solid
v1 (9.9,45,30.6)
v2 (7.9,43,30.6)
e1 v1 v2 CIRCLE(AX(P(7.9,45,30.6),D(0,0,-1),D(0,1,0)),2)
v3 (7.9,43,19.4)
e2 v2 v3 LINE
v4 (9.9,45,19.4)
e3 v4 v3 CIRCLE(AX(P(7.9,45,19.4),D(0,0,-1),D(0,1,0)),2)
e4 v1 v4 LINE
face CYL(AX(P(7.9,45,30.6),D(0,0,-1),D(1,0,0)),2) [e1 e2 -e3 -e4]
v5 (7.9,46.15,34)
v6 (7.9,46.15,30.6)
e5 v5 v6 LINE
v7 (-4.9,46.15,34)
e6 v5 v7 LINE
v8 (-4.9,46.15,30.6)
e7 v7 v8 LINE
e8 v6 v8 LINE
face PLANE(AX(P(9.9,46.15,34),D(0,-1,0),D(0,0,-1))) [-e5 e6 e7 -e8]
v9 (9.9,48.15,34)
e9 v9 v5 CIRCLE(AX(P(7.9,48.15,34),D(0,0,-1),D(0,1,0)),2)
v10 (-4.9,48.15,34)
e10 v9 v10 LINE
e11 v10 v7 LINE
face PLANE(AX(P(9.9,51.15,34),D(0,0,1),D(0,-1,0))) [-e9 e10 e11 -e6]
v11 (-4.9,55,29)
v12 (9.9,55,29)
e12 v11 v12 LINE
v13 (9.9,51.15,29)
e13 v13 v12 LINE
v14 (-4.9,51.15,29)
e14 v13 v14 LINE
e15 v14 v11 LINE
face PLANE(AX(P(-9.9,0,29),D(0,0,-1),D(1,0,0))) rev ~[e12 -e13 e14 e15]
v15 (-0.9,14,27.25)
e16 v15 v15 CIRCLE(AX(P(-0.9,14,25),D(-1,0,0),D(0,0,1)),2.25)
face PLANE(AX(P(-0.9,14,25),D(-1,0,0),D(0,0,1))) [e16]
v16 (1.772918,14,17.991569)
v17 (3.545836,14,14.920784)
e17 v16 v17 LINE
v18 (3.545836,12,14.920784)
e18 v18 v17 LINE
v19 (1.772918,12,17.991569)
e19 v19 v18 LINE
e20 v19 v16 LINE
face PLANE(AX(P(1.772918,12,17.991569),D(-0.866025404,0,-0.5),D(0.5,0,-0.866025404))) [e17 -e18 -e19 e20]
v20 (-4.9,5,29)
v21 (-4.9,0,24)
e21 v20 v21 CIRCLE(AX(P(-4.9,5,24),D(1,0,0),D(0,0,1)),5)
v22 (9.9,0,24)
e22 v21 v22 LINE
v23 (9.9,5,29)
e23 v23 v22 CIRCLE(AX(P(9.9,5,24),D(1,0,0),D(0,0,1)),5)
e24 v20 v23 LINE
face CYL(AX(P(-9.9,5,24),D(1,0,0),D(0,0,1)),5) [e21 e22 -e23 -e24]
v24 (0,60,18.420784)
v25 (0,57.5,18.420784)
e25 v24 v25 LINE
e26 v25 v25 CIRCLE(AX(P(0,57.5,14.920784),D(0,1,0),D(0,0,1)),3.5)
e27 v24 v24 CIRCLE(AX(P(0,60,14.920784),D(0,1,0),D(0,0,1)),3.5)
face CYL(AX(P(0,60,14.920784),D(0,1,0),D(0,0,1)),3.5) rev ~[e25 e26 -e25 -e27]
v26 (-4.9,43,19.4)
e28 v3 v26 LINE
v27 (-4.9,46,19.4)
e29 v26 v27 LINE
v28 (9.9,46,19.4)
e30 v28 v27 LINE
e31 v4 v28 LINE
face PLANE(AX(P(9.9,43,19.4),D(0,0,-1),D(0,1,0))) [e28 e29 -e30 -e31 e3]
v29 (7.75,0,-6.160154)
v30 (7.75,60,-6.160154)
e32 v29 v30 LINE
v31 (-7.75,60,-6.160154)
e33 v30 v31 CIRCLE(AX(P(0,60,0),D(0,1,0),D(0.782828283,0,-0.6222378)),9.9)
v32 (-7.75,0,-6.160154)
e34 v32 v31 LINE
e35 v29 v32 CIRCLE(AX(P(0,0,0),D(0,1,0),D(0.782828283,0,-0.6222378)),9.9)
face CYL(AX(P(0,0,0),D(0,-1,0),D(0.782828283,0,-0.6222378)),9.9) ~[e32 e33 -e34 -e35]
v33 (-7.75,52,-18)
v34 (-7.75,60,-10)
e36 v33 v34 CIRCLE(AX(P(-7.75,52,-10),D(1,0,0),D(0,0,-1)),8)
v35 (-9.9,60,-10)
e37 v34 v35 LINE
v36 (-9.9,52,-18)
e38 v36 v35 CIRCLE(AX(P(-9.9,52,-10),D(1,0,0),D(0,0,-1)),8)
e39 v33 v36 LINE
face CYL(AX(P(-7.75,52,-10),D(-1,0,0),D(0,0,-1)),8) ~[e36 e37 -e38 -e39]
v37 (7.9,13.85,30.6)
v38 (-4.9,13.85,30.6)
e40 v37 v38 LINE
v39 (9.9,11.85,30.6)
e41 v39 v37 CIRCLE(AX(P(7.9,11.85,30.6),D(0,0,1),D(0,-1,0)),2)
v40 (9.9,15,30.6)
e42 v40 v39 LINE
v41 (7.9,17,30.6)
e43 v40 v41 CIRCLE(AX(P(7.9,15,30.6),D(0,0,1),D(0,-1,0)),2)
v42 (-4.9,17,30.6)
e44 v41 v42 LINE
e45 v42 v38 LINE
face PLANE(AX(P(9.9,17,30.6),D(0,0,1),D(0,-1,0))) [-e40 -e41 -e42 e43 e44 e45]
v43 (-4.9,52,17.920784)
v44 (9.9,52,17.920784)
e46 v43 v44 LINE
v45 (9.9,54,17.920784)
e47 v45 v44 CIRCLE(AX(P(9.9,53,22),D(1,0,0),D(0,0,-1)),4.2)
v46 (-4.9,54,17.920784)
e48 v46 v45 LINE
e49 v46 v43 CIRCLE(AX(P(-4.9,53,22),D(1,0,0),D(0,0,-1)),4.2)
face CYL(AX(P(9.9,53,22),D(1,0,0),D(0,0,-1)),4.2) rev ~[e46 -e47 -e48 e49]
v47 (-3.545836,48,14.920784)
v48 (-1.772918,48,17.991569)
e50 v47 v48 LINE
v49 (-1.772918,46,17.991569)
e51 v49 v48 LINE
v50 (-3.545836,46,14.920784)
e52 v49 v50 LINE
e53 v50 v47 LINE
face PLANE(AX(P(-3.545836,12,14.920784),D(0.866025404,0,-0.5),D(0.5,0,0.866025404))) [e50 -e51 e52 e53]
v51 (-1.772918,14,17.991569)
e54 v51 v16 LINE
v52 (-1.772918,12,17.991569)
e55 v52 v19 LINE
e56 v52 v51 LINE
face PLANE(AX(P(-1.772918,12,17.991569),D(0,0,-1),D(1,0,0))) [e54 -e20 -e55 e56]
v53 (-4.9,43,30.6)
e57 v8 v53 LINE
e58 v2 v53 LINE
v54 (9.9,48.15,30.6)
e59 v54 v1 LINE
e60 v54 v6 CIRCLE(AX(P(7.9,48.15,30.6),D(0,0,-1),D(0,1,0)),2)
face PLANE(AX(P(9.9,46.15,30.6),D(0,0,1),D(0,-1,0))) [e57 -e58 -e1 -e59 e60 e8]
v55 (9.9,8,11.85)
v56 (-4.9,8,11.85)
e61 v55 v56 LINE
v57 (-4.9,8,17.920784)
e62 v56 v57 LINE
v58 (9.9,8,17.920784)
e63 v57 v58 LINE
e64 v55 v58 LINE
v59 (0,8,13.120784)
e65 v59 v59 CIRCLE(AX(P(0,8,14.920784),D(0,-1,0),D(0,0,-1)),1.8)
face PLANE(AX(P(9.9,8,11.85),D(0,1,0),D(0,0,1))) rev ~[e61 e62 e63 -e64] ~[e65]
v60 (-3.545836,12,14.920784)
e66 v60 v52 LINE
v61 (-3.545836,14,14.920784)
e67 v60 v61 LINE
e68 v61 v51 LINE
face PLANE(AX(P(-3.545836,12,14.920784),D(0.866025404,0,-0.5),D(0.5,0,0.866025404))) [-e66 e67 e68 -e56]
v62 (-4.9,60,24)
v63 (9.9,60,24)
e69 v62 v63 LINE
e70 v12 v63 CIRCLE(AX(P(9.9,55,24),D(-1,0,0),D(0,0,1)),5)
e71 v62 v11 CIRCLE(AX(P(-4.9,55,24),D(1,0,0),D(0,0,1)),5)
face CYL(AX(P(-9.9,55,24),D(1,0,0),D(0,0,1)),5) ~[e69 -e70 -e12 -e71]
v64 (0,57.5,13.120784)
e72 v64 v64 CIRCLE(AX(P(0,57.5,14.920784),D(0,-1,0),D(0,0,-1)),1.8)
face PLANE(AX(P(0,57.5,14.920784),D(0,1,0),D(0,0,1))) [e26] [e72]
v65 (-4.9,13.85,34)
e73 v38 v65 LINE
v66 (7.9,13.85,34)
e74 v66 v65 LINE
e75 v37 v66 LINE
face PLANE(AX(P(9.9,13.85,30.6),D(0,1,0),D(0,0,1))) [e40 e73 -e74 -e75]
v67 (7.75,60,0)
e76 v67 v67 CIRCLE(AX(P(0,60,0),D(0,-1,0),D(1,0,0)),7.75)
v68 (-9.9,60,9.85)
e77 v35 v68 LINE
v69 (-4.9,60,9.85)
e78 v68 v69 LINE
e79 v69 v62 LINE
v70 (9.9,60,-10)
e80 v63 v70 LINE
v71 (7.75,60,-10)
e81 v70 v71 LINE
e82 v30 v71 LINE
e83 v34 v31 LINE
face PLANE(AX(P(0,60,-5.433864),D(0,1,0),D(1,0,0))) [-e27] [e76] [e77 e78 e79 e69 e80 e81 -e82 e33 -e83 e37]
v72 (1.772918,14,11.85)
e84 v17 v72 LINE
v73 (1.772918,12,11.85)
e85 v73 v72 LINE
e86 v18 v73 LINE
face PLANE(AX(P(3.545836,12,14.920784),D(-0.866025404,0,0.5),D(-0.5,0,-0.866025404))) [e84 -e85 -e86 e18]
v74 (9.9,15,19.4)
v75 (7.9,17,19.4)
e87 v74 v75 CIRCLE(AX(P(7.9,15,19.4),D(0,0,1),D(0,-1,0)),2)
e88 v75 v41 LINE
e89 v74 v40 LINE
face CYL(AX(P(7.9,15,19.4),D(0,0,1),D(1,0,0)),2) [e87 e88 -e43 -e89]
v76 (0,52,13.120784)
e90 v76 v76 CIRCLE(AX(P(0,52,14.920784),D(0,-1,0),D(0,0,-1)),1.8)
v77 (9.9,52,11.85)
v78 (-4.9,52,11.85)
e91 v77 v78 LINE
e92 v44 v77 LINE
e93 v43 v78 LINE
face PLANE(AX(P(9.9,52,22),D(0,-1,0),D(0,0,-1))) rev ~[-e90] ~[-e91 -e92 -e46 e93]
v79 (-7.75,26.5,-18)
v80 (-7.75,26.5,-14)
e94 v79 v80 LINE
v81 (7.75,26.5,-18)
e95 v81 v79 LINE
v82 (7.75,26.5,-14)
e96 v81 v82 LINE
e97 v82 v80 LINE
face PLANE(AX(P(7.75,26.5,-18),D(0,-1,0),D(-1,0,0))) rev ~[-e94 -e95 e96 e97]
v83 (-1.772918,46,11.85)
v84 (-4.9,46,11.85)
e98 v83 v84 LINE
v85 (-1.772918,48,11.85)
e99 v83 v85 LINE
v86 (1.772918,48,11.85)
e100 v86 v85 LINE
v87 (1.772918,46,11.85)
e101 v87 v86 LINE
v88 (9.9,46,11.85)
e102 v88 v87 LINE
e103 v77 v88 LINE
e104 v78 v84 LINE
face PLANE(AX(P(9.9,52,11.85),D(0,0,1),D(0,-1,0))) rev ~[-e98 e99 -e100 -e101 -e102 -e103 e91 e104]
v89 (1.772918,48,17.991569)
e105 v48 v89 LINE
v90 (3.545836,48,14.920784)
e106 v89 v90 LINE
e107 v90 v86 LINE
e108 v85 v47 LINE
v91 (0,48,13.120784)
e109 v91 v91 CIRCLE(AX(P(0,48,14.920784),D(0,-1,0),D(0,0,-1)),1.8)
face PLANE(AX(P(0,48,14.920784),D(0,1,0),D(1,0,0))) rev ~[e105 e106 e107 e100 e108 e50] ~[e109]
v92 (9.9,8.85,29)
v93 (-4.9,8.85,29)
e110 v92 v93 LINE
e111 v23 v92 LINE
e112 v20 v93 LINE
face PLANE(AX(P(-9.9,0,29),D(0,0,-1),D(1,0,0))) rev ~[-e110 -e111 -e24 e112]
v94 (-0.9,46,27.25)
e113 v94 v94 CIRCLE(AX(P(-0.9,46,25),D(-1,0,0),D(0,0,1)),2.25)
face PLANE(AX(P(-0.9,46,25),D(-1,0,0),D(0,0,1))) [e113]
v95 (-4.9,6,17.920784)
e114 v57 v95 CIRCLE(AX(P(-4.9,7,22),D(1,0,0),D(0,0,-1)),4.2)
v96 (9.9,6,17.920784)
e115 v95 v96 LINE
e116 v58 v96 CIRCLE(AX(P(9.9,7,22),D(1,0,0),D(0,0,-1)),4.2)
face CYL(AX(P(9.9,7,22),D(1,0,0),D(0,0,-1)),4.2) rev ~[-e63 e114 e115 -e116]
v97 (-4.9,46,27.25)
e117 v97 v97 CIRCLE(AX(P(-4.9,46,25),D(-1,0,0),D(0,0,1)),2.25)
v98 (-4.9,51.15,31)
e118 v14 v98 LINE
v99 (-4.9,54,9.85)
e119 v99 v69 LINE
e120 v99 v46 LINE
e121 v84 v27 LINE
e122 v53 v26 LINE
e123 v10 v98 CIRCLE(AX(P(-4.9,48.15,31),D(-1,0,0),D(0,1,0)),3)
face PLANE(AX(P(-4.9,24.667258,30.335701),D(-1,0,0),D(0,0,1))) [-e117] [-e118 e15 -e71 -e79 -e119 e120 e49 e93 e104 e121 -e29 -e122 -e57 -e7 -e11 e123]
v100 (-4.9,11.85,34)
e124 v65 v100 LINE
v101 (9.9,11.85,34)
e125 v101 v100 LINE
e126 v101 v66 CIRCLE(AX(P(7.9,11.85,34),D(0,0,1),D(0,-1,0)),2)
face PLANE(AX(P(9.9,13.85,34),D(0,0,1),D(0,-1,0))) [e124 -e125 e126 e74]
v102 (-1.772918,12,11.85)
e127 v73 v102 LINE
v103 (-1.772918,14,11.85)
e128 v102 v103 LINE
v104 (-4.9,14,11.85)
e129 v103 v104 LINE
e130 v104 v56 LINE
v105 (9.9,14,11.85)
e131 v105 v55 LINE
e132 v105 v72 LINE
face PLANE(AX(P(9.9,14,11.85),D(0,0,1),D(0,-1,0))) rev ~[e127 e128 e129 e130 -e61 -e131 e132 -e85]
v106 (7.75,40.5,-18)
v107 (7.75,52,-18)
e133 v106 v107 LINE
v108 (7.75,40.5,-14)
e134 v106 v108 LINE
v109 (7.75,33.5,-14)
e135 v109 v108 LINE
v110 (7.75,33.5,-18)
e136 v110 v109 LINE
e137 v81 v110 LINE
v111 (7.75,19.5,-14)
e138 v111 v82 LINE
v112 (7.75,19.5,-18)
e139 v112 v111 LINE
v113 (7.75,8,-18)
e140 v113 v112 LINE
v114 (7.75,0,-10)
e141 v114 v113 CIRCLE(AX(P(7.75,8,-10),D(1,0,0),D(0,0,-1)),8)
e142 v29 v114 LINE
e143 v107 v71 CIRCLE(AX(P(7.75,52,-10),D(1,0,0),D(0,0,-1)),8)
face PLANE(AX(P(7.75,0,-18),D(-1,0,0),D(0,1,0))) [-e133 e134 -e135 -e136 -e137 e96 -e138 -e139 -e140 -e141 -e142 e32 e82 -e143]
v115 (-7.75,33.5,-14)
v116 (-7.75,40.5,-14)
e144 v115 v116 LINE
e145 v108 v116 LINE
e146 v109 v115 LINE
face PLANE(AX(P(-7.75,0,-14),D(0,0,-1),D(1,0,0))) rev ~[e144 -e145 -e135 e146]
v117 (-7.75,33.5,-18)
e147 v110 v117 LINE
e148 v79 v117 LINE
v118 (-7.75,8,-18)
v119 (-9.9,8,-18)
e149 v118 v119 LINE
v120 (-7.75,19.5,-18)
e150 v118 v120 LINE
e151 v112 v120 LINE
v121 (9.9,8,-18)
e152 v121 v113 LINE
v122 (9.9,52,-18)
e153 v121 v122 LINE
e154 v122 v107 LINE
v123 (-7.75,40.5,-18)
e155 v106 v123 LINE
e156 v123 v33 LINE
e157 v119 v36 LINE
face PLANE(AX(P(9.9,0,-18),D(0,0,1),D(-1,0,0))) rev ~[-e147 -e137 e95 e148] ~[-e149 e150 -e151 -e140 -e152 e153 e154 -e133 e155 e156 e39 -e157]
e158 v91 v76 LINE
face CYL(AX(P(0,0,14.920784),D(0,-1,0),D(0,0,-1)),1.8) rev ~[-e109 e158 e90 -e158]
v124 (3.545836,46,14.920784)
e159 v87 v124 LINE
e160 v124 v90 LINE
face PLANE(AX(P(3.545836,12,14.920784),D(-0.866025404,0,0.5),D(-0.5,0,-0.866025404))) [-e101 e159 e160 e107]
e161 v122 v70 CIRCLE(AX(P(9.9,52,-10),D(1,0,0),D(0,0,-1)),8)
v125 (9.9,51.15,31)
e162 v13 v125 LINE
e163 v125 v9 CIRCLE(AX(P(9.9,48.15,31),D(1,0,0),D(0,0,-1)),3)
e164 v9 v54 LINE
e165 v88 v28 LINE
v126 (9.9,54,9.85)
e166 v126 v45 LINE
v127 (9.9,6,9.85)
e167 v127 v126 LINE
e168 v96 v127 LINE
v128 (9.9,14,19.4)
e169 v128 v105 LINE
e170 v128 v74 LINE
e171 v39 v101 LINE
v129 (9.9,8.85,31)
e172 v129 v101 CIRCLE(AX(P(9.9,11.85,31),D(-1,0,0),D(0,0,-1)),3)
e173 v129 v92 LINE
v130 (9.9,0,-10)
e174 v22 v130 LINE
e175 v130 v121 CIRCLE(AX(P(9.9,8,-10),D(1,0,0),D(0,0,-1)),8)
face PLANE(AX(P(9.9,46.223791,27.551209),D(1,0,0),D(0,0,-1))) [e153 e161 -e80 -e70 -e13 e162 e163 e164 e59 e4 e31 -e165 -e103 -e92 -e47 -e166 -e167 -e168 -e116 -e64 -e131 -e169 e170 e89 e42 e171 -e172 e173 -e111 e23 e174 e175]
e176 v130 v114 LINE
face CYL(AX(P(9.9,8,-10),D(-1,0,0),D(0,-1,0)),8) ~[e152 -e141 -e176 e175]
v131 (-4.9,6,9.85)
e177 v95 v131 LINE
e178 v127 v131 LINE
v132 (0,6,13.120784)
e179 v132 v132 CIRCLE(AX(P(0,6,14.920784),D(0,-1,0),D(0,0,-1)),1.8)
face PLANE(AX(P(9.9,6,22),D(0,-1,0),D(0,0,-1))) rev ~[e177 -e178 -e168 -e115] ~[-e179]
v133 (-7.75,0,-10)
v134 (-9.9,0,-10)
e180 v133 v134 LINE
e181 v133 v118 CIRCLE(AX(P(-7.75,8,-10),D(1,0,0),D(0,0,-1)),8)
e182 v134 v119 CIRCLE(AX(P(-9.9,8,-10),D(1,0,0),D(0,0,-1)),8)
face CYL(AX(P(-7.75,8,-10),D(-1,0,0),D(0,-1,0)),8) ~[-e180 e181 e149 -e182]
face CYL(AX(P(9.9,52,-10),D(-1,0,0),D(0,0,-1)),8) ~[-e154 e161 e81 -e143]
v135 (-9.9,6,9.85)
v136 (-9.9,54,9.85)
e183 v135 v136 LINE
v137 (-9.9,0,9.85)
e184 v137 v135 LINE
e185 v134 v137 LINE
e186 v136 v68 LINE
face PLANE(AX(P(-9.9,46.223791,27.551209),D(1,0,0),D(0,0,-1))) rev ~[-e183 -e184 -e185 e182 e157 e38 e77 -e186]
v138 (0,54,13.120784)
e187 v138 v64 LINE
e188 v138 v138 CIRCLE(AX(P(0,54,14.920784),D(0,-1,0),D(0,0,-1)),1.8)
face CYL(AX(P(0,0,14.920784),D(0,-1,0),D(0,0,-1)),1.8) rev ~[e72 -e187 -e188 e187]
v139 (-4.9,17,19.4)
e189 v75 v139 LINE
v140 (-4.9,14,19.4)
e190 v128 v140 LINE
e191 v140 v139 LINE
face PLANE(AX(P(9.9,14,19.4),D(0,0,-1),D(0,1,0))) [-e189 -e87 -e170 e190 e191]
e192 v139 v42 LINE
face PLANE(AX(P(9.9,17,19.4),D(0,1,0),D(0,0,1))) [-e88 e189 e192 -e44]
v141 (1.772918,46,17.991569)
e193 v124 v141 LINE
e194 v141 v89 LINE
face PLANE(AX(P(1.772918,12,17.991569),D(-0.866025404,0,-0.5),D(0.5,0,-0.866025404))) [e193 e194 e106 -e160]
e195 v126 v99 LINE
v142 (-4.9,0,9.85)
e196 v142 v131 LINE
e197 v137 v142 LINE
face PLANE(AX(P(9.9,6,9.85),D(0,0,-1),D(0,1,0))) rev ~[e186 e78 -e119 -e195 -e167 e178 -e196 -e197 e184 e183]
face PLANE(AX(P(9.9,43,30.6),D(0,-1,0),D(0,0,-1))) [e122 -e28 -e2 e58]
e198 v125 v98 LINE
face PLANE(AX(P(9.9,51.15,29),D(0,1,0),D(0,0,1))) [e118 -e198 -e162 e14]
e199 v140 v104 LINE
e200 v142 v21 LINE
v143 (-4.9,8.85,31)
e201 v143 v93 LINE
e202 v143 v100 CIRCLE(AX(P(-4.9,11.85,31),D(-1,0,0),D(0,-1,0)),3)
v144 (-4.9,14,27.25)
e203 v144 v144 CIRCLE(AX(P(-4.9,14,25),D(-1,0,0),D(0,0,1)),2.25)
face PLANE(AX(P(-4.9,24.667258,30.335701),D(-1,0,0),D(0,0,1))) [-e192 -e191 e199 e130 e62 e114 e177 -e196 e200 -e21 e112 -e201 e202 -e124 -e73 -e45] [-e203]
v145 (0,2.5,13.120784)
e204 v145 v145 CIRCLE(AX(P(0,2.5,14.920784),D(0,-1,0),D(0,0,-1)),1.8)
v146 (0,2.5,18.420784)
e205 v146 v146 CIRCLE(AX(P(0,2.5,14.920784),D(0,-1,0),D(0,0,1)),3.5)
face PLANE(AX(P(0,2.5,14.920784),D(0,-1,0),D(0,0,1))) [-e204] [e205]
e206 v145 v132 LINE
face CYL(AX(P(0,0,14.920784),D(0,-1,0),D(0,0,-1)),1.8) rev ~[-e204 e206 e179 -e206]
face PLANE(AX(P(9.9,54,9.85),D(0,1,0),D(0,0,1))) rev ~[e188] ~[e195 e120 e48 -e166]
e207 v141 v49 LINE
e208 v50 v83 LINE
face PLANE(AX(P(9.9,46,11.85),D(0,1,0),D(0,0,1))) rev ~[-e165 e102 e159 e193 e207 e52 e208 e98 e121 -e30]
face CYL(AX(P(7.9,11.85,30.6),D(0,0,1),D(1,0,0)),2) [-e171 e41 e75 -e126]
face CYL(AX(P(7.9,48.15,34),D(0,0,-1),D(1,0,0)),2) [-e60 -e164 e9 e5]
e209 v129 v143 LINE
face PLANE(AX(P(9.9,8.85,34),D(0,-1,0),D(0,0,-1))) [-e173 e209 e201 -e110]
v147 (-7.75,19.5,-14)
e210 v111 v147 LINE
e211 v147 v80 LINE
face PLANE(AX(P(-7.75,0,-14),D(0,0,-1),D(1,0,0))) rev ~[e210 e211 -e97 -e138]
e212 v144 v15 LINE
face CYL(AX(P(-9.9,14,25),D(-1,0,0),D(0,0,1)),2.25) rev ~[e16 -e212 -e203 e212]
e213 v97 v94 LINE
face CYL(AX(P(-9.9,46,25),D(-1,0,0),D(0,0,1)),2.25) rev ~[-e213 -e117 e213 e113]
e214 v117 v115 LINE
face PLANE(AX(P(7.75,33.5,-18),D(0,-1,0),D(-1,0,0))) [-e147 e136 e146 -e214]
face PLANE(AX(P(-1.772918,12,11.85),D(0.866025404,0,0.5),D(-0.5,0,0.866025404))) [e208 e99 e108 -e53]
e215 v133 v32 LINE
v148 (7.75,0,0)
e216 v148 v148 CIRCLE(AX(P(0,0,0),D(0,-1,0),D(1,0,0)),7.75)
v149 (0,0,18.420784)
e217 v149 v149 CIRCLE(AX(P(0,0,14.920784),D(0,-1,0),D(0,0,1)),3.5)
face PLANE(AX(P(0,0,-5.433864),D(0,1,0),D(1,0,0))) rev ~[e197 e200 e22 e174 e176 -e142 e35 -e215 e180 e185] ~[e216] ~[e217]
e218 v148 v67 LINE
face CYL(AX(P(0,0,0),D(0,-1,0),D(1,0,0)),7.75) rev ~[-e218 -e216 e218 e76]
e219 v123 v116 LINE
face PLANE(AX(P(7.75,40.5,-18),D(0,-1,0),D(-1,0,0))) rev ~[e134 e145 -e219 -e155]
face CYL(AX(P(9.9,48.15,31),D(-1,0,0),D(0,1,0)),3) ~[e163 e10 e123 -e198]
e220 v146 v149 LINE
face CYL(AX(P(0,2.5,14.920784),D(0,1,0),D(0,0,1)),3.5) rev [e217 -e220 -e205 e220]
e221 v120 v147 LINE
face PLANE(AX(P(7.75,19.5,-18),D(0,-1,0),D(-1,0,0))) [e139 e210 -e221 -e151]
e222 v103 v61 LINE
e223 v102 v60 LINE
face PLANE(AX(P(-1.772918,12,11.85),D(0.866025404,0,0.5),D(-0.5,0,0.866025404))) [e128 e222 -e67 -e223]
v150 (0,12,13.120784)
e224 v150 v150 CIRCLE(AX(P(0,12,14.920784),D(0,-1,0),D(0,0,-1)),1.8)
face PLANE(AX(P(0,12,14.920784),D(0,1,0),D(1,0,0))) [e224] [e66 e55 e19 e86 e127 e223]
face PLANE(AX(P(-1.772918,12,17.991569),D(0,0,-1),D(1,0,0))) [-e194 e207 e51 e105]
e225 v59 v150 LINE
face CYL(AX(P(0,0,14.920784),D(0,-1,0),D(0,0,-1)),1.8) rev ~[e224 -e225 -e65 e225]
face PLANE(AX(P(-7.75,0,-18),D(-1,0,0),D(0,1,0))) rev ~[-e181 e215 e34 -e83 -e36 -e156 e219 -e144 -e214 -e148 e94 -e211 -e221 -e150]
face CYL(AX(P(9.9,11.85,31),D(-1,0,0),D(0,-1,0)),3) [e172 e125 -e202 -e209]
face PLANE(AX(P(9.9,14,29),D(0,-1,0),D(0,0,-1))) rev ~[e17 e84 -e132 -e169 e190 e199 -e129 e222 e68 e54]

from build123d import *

# Parameters (mm, degrees)
SKETCH_1_W                = 15.5
SKETCH_1_H                = 11.302783866
EXTRUDE_1_DEPTH           = 60
SKETCH_2_R                = 4.2
CUT_EXTRUDE_1_DEPTH       = 90
CUT_EXTRUDE_2_DEPTH       = 40
SKETCH_4_W                = 15.5
SKETCH_4_H                = 19.5
SKETCH_4_H_2              = 7
CUT_EXTRUDE_3_DEPTH       = 6
FILLET_1_R                = 5
FILLET_2_R                = 8
SKETCH_13_R               = 1.8
CUT_EXTRUDE_9_DEPTH       = 75
CUT_EXTRUDE_10_DEPTH      = 34
CUT_EXTRUDE_10_DEPTH_BACK = 2
SKETCH_15_R               = 3.5
CUT_EXTRUDE_11_DEPTH      = 2.5
CUT_EXTRUDE_START         = -2.5
SKETCH_16_R               = 3.5
CUT_EXTRUDE_12_DEPTH      = 2.5
EXTRUDE_2_DEPTH           = 19.8
FILLET_3_R                = 3
SKETCH_18_R               = 2.25
CUT_EXTRUDE_13_DEPTH      = 9
FILLET_4_R                = 2
SKETCH_19_W               = 40.971402115
SKETCH_19_H               = 78.896815639
CUT_EXTRUDE_14_DEPTH      = 5


with BuildPart() as part:
    # Эскиз1 → Бобышка-Вытянуть1 (new body)
    with BuildSketch(Plane(origin=(0, 0, 0), x_dir=(1, 0, 0), z_dir=(0, 1, 0))):
        with BuildLine():
            Line((7.75, 0), (7.75, 6.160154219))
            ThreePointArc((7.75, 6.160154219), (0, 9.9), (-7.75, 6.160154219))
            Line((-7.75, 6.160154219), (-7.75, 1e-08))
            ThreePointArc((-7.75, 1e-08), (5e-09, 7.75), (7.75, 0))
        make_face()
        with BuildLine():
            ThreePointArc((0, -9.9), (4.302584876, -8.916151826), (7.75, -6.160154219))
            Line((7.75, -6.160154219), (7.75, 0))
            ThreePointArc((7.75, 0), (-5e-09, -7.75), (-7.75, 1e-08))
            Line((-7.75, 1e-08), (-7.75, -6.160154219))
            ThreePointArc((-7.75, -6.160154219), (-4.302584876, -8.916151826), (0, -9.9))
        make_face()
        with BuildLine():
            ThreePointArc((7.75, 6.160154219), (9.347058361, 3.262284476), (9.9, 0))
            Line((9.9, 0), (9.9, 18))
            Line((9.9, 18), (-9.9, 18))
            Line((-9.9, 18), (-9.9, 0))
            ThreePointArc((-9.9, 0), (-9.347058361, 3.262284476), (-7.75, 6.160154219))
            Line((-7.75, 6.160154219), (-7.75, 14))
            Line((-7.75, 14), (7.75, 14))
            Line((7.75, 14), (7.75, 6.160154219))
        make_face()
        with BuildLine():
            ThreePointArc((7.75, -6.160154219), (9.347058361, -3.262284476), (9.9, 0))
            ThreePointArc((9.9, 0), (9.347058361, 3.262284476), (7.75, 6.160154219))
            Line((7.75, 6.160154219), (7.75, 0))
            Line((7.75, 0), (7.75, -6.160154219))
        make_face()
        with BuildLine():
            Line((-7.75, 1e-08), (-7.75, 6.160154219))
            ThreePointArc((-7.75, 6.160154219), (-9.347058361, 3.262284476), (-9.9, 0))
            ThreePointArc((-9.9, 0), (-9.347058361, -3.262284476), (-7.75, -6.160154219))
            Line((-7.75, -6.160154219), (-7.75, 1e-08))
        make_face()
        with BuildLine():
            Line((9.9, -29), (9.9, 0))
            ThreePointArc((9.9, 0), (9.347058361, -3.262284476), (7.75, -6.160154219))
            Line((7.75, -6.160154219), (7.75, -9.9))
            Line((7.75, -9.9), (7.75, -11.85))
            Line((7.75, -11.85), (7.75, -23.152783866))
            Line((7.75, -23.152783866), (-7.75, -23.152783866))
            Line((-7.75, -23.152783866), (-7.75, -11.85))
            Line((-7.75, -11.85), (-7.75, -9.9))
            Line((-7.75, -9.9), (-7.75, -6.160154219))
            ThreePointArc((-7.75, -6.160154219), (-9.347058361, -3.262284476), (-9.9, 0))
            Line((-9.9, 0), (-9.9, -29))
            Line((-9.9, -29), (9.9, -29))
        make_face()
        with Locations((0, -17.501391933)):
            Rectangle(SKETCH_1_W, SKETCH_1_H)
        Polygon((7.75, -11.85), (7.75, -9.9), (0, -9.9), (-7.75, -9.9), (-7.75, -11.85), align=None)
        with BuildLine():
            Line((7.75, -9.9), (7.75, -6.160154219))
            ThreePointArc((7.75, -6.160154219), (4.302584876, -8.916151826), (0, -9.9))
            Line((0, -9.9), (7.75, -9.9))
        make_face()
        with BuildLine():
            Line((-7.75, -9.9), (0, -9.9))
            ThreePointArc((0, -9.9), (-4.302584876, -8.916151826), (-7.75, -6.160154219))
            Line((-7.75, -6.160154219), (-7.75, -9.9))
        make_face()
    extrude(amount=EXTRUDE_1_DEPTH)

    # Эскиз2 → Вырез-Вытянуть1 (cut)
    with BuildSketch(Plane(origin=(9.9, 0, 0), x_dir=(0, 0, -1), z_dir=(1, 0, 0))):
        with Locations((-22, 53)):
            Circle(SKETCH_2_R)
        with Locations((-22, 7)):
            Circle(SKETCH_2_R)
    extrude(amount=-CUT_EXTRUDE_1_DEPTH, mode=Mode.SUBTRACT)

    # Эскиз3 → Вырез-Вытянуть2 (cut)
    with BuildSketch(Plane(origin=(9.9, 0, 0), x_dir=(0, 0, -1), z_dir=(1, 0, 0))):
        Polygon((-29, 46), (-29, 14), (-11.85, 14), (-11.85, 8), (-22, 8), (-22, 6), (-9.85, 6), (-9.85, 54), (-22, 54), (-22, 52), (-11.85, 52), (-11.85, 46), align=None)
    extrude(amount=-CUT_EXTRUDE_2_DEPTH, mode=Mode.SUBTRACT)

    # Эскиз4 → Вырез-Вытянуть3 (cut)
    with BuildSketch(Plane(origin=(0, 0, -18), x_dir=(-1, 0, 0), z_dir=(0, 0, -1))):
        with Locations((0, 50.25)):
            Rectangle(SKETCH_4_W, SKETCH_4_H)
        with Locations((0, 30)):
            Rectangle(SKETCH_4_W, SKETCH_4_H_2)
        with Locations((0, 9.75)):
            Rectangle(SKETCH_4_W, SKETCH_4_H)
    extrude(amount=-CUT_EXTRUDE_3_DEPTH, mode=Mode.SUBTRACT)

    # Скругление1
    fillet_1_edges = [part.edges().sort_by_distance(p)[0] for p in [
        (0, 60, 29),
        (0, 0, 29),
    ]]
    fillet(fillet_1_edges, radius=FILLET_1_R)

    # Скругление2
    fillet_2_edges = [part.edges().sort_by_distance(p)[0] for p in [
        (-8.825, 60, -18),
        (-8.825, 0, -18),
        (8.825, 0, -18),
        (8.825, 60, -18),
    ]]
    fillet(fillet_2_edges, radius=FILLET_2_R)

    # Эскиз13 → Вырез-Вытянуть9 (cut)
    with BuildSketch(Plane.XZ):
        with Locations(Location((0, 14.920784389, 0), (0, 0, 270))):
            Circle(SKETCH_13_R)
    extrude(amount=-CUT_EXTRUDE_9_DEPTH, mode=Mode.SUBTRACT)

    # Эскиз14 → Вырез-Вытянуть10 (cut, two sides: drawn at the far end of the back side and taken through both)
    with BuildSketch(Plane(origin=(0, 14, 0), x_dir=(1, 0, 0), z_dir=(0, 1, 0)).offset(-CUT_EXTRUDE_10_DEPTH_BACK)):
        Polygon((-1.772918194, -17.991568778), (1.772918194, -17.991568778), (3.545836387, -14.920784389), (1.772918194, -11.85), (-1.772918194, -11.85), (-3.545836387, -14.920784389), align=None)
    extrude(amount=CUT_EXTRUDE_10_DEPTH + CUT_EXTRUDE_10_DEPTH_BACK, mode=Mode.SUBTRACT)

    # Эскиз15 → Вырез-Вытянуть11 (cut)
    with BuildSketch(Plane(origin=(0, 60, 0), x_dir=(1, 0, 0), z_dir=(0, 1, 0))):
        with Locations(Location((0, -14.920784389, 0), (0, 0, 270))):
            Circle(SKETCH_15_R)
    extrude(amount=-CUT_EXTRUDE_11_DEPTH, mode=Mode.SUBTRACT)

    # Эскиз16 → Вырез-Вытянуть12 (cut)
    with BuildSketch(Plane.XZ.offset(CUT_EXTRUDE_START)):
        with Locations(Location((0, 14.920784389, 0), (0, 0, 90))):
            Circle(SKETCH_16_R)
    extrude(amount=CUT_EXTRUDE_12_DEPTH, mode=Mode.SUBTRACT)

    # Эскиз17 → Бобышка-Вытянуть2 (add)
    with BuildSketch(Plane(origin=(9.9, 0, 0), x_dir=(0, 0, -1), z_dir=(1, 0, 0))):
        Polygon((-30.6, 43), (-19.4, 43), (-19.4, 46), (-29, 46), (-29, 51.15), (-34, 51.15), (-34, 46.15), (-30.6, 46.15), align=None)
        Polygon((-29, 14), (-19.4, 14), (-19.4, 17), (-28.462723747, 17), (-30.6, 17), (-30.6, 13.85), (-34, 13.85), (-34, 8.85), (-29.808389015, 8.85), (-29, 8.85), align=None)
    extrude(amount=-EXTRUDE_2_DEPTH)

    # Скругление3
    fillet_3_edges = [part.edges().sort_by_distance(p)[0] for p in [
        (0, 51.15, 34),
        (0, 8.85, 34),
    ]]
    fillet(fillet_3_edges, radius=FILLET_3_R)

    # Эскиз18 → Вырез-Вытянуть13 (cut)
    with BuildSketch(Plane.ZY.offset(9.9)):
        with Locations((25, 14)):
            Circle(SKETCH_18_R)
        with Locations((25, 46)):
            Circle(SKETCH_18_R)
    extrude(amount=-CUT_EXTRUDE_13_DEPTH, mode=Mode.SUBTRACT)

    # Скругление4
    fillet_4_edges = [part.edges().sort_by_distance(p)[0] for p in [
        (9.9, 13.85, 32.3),
        (9.9, 17, 25),
        (9.9, 43, 25),
        (9.9, 46.15, 32.3),
    ]]
    fillet(fillet_4_edges, radius=FILLET_4_R)

    # Эскиз19 → Вырез-Вытянуть14 (cut)
    with BuildSketch(Plane.ZY.offset(9.9)):
        with Locations((30.335701058, 24.667257597)):
            Rectangle(SKETCH_19_W, SKETCH_19_H)
    extrude(amount=-CUT_EXTRUDE_14_DEPTH, mode=Mode.SUBTRACT)


solid = part.part
